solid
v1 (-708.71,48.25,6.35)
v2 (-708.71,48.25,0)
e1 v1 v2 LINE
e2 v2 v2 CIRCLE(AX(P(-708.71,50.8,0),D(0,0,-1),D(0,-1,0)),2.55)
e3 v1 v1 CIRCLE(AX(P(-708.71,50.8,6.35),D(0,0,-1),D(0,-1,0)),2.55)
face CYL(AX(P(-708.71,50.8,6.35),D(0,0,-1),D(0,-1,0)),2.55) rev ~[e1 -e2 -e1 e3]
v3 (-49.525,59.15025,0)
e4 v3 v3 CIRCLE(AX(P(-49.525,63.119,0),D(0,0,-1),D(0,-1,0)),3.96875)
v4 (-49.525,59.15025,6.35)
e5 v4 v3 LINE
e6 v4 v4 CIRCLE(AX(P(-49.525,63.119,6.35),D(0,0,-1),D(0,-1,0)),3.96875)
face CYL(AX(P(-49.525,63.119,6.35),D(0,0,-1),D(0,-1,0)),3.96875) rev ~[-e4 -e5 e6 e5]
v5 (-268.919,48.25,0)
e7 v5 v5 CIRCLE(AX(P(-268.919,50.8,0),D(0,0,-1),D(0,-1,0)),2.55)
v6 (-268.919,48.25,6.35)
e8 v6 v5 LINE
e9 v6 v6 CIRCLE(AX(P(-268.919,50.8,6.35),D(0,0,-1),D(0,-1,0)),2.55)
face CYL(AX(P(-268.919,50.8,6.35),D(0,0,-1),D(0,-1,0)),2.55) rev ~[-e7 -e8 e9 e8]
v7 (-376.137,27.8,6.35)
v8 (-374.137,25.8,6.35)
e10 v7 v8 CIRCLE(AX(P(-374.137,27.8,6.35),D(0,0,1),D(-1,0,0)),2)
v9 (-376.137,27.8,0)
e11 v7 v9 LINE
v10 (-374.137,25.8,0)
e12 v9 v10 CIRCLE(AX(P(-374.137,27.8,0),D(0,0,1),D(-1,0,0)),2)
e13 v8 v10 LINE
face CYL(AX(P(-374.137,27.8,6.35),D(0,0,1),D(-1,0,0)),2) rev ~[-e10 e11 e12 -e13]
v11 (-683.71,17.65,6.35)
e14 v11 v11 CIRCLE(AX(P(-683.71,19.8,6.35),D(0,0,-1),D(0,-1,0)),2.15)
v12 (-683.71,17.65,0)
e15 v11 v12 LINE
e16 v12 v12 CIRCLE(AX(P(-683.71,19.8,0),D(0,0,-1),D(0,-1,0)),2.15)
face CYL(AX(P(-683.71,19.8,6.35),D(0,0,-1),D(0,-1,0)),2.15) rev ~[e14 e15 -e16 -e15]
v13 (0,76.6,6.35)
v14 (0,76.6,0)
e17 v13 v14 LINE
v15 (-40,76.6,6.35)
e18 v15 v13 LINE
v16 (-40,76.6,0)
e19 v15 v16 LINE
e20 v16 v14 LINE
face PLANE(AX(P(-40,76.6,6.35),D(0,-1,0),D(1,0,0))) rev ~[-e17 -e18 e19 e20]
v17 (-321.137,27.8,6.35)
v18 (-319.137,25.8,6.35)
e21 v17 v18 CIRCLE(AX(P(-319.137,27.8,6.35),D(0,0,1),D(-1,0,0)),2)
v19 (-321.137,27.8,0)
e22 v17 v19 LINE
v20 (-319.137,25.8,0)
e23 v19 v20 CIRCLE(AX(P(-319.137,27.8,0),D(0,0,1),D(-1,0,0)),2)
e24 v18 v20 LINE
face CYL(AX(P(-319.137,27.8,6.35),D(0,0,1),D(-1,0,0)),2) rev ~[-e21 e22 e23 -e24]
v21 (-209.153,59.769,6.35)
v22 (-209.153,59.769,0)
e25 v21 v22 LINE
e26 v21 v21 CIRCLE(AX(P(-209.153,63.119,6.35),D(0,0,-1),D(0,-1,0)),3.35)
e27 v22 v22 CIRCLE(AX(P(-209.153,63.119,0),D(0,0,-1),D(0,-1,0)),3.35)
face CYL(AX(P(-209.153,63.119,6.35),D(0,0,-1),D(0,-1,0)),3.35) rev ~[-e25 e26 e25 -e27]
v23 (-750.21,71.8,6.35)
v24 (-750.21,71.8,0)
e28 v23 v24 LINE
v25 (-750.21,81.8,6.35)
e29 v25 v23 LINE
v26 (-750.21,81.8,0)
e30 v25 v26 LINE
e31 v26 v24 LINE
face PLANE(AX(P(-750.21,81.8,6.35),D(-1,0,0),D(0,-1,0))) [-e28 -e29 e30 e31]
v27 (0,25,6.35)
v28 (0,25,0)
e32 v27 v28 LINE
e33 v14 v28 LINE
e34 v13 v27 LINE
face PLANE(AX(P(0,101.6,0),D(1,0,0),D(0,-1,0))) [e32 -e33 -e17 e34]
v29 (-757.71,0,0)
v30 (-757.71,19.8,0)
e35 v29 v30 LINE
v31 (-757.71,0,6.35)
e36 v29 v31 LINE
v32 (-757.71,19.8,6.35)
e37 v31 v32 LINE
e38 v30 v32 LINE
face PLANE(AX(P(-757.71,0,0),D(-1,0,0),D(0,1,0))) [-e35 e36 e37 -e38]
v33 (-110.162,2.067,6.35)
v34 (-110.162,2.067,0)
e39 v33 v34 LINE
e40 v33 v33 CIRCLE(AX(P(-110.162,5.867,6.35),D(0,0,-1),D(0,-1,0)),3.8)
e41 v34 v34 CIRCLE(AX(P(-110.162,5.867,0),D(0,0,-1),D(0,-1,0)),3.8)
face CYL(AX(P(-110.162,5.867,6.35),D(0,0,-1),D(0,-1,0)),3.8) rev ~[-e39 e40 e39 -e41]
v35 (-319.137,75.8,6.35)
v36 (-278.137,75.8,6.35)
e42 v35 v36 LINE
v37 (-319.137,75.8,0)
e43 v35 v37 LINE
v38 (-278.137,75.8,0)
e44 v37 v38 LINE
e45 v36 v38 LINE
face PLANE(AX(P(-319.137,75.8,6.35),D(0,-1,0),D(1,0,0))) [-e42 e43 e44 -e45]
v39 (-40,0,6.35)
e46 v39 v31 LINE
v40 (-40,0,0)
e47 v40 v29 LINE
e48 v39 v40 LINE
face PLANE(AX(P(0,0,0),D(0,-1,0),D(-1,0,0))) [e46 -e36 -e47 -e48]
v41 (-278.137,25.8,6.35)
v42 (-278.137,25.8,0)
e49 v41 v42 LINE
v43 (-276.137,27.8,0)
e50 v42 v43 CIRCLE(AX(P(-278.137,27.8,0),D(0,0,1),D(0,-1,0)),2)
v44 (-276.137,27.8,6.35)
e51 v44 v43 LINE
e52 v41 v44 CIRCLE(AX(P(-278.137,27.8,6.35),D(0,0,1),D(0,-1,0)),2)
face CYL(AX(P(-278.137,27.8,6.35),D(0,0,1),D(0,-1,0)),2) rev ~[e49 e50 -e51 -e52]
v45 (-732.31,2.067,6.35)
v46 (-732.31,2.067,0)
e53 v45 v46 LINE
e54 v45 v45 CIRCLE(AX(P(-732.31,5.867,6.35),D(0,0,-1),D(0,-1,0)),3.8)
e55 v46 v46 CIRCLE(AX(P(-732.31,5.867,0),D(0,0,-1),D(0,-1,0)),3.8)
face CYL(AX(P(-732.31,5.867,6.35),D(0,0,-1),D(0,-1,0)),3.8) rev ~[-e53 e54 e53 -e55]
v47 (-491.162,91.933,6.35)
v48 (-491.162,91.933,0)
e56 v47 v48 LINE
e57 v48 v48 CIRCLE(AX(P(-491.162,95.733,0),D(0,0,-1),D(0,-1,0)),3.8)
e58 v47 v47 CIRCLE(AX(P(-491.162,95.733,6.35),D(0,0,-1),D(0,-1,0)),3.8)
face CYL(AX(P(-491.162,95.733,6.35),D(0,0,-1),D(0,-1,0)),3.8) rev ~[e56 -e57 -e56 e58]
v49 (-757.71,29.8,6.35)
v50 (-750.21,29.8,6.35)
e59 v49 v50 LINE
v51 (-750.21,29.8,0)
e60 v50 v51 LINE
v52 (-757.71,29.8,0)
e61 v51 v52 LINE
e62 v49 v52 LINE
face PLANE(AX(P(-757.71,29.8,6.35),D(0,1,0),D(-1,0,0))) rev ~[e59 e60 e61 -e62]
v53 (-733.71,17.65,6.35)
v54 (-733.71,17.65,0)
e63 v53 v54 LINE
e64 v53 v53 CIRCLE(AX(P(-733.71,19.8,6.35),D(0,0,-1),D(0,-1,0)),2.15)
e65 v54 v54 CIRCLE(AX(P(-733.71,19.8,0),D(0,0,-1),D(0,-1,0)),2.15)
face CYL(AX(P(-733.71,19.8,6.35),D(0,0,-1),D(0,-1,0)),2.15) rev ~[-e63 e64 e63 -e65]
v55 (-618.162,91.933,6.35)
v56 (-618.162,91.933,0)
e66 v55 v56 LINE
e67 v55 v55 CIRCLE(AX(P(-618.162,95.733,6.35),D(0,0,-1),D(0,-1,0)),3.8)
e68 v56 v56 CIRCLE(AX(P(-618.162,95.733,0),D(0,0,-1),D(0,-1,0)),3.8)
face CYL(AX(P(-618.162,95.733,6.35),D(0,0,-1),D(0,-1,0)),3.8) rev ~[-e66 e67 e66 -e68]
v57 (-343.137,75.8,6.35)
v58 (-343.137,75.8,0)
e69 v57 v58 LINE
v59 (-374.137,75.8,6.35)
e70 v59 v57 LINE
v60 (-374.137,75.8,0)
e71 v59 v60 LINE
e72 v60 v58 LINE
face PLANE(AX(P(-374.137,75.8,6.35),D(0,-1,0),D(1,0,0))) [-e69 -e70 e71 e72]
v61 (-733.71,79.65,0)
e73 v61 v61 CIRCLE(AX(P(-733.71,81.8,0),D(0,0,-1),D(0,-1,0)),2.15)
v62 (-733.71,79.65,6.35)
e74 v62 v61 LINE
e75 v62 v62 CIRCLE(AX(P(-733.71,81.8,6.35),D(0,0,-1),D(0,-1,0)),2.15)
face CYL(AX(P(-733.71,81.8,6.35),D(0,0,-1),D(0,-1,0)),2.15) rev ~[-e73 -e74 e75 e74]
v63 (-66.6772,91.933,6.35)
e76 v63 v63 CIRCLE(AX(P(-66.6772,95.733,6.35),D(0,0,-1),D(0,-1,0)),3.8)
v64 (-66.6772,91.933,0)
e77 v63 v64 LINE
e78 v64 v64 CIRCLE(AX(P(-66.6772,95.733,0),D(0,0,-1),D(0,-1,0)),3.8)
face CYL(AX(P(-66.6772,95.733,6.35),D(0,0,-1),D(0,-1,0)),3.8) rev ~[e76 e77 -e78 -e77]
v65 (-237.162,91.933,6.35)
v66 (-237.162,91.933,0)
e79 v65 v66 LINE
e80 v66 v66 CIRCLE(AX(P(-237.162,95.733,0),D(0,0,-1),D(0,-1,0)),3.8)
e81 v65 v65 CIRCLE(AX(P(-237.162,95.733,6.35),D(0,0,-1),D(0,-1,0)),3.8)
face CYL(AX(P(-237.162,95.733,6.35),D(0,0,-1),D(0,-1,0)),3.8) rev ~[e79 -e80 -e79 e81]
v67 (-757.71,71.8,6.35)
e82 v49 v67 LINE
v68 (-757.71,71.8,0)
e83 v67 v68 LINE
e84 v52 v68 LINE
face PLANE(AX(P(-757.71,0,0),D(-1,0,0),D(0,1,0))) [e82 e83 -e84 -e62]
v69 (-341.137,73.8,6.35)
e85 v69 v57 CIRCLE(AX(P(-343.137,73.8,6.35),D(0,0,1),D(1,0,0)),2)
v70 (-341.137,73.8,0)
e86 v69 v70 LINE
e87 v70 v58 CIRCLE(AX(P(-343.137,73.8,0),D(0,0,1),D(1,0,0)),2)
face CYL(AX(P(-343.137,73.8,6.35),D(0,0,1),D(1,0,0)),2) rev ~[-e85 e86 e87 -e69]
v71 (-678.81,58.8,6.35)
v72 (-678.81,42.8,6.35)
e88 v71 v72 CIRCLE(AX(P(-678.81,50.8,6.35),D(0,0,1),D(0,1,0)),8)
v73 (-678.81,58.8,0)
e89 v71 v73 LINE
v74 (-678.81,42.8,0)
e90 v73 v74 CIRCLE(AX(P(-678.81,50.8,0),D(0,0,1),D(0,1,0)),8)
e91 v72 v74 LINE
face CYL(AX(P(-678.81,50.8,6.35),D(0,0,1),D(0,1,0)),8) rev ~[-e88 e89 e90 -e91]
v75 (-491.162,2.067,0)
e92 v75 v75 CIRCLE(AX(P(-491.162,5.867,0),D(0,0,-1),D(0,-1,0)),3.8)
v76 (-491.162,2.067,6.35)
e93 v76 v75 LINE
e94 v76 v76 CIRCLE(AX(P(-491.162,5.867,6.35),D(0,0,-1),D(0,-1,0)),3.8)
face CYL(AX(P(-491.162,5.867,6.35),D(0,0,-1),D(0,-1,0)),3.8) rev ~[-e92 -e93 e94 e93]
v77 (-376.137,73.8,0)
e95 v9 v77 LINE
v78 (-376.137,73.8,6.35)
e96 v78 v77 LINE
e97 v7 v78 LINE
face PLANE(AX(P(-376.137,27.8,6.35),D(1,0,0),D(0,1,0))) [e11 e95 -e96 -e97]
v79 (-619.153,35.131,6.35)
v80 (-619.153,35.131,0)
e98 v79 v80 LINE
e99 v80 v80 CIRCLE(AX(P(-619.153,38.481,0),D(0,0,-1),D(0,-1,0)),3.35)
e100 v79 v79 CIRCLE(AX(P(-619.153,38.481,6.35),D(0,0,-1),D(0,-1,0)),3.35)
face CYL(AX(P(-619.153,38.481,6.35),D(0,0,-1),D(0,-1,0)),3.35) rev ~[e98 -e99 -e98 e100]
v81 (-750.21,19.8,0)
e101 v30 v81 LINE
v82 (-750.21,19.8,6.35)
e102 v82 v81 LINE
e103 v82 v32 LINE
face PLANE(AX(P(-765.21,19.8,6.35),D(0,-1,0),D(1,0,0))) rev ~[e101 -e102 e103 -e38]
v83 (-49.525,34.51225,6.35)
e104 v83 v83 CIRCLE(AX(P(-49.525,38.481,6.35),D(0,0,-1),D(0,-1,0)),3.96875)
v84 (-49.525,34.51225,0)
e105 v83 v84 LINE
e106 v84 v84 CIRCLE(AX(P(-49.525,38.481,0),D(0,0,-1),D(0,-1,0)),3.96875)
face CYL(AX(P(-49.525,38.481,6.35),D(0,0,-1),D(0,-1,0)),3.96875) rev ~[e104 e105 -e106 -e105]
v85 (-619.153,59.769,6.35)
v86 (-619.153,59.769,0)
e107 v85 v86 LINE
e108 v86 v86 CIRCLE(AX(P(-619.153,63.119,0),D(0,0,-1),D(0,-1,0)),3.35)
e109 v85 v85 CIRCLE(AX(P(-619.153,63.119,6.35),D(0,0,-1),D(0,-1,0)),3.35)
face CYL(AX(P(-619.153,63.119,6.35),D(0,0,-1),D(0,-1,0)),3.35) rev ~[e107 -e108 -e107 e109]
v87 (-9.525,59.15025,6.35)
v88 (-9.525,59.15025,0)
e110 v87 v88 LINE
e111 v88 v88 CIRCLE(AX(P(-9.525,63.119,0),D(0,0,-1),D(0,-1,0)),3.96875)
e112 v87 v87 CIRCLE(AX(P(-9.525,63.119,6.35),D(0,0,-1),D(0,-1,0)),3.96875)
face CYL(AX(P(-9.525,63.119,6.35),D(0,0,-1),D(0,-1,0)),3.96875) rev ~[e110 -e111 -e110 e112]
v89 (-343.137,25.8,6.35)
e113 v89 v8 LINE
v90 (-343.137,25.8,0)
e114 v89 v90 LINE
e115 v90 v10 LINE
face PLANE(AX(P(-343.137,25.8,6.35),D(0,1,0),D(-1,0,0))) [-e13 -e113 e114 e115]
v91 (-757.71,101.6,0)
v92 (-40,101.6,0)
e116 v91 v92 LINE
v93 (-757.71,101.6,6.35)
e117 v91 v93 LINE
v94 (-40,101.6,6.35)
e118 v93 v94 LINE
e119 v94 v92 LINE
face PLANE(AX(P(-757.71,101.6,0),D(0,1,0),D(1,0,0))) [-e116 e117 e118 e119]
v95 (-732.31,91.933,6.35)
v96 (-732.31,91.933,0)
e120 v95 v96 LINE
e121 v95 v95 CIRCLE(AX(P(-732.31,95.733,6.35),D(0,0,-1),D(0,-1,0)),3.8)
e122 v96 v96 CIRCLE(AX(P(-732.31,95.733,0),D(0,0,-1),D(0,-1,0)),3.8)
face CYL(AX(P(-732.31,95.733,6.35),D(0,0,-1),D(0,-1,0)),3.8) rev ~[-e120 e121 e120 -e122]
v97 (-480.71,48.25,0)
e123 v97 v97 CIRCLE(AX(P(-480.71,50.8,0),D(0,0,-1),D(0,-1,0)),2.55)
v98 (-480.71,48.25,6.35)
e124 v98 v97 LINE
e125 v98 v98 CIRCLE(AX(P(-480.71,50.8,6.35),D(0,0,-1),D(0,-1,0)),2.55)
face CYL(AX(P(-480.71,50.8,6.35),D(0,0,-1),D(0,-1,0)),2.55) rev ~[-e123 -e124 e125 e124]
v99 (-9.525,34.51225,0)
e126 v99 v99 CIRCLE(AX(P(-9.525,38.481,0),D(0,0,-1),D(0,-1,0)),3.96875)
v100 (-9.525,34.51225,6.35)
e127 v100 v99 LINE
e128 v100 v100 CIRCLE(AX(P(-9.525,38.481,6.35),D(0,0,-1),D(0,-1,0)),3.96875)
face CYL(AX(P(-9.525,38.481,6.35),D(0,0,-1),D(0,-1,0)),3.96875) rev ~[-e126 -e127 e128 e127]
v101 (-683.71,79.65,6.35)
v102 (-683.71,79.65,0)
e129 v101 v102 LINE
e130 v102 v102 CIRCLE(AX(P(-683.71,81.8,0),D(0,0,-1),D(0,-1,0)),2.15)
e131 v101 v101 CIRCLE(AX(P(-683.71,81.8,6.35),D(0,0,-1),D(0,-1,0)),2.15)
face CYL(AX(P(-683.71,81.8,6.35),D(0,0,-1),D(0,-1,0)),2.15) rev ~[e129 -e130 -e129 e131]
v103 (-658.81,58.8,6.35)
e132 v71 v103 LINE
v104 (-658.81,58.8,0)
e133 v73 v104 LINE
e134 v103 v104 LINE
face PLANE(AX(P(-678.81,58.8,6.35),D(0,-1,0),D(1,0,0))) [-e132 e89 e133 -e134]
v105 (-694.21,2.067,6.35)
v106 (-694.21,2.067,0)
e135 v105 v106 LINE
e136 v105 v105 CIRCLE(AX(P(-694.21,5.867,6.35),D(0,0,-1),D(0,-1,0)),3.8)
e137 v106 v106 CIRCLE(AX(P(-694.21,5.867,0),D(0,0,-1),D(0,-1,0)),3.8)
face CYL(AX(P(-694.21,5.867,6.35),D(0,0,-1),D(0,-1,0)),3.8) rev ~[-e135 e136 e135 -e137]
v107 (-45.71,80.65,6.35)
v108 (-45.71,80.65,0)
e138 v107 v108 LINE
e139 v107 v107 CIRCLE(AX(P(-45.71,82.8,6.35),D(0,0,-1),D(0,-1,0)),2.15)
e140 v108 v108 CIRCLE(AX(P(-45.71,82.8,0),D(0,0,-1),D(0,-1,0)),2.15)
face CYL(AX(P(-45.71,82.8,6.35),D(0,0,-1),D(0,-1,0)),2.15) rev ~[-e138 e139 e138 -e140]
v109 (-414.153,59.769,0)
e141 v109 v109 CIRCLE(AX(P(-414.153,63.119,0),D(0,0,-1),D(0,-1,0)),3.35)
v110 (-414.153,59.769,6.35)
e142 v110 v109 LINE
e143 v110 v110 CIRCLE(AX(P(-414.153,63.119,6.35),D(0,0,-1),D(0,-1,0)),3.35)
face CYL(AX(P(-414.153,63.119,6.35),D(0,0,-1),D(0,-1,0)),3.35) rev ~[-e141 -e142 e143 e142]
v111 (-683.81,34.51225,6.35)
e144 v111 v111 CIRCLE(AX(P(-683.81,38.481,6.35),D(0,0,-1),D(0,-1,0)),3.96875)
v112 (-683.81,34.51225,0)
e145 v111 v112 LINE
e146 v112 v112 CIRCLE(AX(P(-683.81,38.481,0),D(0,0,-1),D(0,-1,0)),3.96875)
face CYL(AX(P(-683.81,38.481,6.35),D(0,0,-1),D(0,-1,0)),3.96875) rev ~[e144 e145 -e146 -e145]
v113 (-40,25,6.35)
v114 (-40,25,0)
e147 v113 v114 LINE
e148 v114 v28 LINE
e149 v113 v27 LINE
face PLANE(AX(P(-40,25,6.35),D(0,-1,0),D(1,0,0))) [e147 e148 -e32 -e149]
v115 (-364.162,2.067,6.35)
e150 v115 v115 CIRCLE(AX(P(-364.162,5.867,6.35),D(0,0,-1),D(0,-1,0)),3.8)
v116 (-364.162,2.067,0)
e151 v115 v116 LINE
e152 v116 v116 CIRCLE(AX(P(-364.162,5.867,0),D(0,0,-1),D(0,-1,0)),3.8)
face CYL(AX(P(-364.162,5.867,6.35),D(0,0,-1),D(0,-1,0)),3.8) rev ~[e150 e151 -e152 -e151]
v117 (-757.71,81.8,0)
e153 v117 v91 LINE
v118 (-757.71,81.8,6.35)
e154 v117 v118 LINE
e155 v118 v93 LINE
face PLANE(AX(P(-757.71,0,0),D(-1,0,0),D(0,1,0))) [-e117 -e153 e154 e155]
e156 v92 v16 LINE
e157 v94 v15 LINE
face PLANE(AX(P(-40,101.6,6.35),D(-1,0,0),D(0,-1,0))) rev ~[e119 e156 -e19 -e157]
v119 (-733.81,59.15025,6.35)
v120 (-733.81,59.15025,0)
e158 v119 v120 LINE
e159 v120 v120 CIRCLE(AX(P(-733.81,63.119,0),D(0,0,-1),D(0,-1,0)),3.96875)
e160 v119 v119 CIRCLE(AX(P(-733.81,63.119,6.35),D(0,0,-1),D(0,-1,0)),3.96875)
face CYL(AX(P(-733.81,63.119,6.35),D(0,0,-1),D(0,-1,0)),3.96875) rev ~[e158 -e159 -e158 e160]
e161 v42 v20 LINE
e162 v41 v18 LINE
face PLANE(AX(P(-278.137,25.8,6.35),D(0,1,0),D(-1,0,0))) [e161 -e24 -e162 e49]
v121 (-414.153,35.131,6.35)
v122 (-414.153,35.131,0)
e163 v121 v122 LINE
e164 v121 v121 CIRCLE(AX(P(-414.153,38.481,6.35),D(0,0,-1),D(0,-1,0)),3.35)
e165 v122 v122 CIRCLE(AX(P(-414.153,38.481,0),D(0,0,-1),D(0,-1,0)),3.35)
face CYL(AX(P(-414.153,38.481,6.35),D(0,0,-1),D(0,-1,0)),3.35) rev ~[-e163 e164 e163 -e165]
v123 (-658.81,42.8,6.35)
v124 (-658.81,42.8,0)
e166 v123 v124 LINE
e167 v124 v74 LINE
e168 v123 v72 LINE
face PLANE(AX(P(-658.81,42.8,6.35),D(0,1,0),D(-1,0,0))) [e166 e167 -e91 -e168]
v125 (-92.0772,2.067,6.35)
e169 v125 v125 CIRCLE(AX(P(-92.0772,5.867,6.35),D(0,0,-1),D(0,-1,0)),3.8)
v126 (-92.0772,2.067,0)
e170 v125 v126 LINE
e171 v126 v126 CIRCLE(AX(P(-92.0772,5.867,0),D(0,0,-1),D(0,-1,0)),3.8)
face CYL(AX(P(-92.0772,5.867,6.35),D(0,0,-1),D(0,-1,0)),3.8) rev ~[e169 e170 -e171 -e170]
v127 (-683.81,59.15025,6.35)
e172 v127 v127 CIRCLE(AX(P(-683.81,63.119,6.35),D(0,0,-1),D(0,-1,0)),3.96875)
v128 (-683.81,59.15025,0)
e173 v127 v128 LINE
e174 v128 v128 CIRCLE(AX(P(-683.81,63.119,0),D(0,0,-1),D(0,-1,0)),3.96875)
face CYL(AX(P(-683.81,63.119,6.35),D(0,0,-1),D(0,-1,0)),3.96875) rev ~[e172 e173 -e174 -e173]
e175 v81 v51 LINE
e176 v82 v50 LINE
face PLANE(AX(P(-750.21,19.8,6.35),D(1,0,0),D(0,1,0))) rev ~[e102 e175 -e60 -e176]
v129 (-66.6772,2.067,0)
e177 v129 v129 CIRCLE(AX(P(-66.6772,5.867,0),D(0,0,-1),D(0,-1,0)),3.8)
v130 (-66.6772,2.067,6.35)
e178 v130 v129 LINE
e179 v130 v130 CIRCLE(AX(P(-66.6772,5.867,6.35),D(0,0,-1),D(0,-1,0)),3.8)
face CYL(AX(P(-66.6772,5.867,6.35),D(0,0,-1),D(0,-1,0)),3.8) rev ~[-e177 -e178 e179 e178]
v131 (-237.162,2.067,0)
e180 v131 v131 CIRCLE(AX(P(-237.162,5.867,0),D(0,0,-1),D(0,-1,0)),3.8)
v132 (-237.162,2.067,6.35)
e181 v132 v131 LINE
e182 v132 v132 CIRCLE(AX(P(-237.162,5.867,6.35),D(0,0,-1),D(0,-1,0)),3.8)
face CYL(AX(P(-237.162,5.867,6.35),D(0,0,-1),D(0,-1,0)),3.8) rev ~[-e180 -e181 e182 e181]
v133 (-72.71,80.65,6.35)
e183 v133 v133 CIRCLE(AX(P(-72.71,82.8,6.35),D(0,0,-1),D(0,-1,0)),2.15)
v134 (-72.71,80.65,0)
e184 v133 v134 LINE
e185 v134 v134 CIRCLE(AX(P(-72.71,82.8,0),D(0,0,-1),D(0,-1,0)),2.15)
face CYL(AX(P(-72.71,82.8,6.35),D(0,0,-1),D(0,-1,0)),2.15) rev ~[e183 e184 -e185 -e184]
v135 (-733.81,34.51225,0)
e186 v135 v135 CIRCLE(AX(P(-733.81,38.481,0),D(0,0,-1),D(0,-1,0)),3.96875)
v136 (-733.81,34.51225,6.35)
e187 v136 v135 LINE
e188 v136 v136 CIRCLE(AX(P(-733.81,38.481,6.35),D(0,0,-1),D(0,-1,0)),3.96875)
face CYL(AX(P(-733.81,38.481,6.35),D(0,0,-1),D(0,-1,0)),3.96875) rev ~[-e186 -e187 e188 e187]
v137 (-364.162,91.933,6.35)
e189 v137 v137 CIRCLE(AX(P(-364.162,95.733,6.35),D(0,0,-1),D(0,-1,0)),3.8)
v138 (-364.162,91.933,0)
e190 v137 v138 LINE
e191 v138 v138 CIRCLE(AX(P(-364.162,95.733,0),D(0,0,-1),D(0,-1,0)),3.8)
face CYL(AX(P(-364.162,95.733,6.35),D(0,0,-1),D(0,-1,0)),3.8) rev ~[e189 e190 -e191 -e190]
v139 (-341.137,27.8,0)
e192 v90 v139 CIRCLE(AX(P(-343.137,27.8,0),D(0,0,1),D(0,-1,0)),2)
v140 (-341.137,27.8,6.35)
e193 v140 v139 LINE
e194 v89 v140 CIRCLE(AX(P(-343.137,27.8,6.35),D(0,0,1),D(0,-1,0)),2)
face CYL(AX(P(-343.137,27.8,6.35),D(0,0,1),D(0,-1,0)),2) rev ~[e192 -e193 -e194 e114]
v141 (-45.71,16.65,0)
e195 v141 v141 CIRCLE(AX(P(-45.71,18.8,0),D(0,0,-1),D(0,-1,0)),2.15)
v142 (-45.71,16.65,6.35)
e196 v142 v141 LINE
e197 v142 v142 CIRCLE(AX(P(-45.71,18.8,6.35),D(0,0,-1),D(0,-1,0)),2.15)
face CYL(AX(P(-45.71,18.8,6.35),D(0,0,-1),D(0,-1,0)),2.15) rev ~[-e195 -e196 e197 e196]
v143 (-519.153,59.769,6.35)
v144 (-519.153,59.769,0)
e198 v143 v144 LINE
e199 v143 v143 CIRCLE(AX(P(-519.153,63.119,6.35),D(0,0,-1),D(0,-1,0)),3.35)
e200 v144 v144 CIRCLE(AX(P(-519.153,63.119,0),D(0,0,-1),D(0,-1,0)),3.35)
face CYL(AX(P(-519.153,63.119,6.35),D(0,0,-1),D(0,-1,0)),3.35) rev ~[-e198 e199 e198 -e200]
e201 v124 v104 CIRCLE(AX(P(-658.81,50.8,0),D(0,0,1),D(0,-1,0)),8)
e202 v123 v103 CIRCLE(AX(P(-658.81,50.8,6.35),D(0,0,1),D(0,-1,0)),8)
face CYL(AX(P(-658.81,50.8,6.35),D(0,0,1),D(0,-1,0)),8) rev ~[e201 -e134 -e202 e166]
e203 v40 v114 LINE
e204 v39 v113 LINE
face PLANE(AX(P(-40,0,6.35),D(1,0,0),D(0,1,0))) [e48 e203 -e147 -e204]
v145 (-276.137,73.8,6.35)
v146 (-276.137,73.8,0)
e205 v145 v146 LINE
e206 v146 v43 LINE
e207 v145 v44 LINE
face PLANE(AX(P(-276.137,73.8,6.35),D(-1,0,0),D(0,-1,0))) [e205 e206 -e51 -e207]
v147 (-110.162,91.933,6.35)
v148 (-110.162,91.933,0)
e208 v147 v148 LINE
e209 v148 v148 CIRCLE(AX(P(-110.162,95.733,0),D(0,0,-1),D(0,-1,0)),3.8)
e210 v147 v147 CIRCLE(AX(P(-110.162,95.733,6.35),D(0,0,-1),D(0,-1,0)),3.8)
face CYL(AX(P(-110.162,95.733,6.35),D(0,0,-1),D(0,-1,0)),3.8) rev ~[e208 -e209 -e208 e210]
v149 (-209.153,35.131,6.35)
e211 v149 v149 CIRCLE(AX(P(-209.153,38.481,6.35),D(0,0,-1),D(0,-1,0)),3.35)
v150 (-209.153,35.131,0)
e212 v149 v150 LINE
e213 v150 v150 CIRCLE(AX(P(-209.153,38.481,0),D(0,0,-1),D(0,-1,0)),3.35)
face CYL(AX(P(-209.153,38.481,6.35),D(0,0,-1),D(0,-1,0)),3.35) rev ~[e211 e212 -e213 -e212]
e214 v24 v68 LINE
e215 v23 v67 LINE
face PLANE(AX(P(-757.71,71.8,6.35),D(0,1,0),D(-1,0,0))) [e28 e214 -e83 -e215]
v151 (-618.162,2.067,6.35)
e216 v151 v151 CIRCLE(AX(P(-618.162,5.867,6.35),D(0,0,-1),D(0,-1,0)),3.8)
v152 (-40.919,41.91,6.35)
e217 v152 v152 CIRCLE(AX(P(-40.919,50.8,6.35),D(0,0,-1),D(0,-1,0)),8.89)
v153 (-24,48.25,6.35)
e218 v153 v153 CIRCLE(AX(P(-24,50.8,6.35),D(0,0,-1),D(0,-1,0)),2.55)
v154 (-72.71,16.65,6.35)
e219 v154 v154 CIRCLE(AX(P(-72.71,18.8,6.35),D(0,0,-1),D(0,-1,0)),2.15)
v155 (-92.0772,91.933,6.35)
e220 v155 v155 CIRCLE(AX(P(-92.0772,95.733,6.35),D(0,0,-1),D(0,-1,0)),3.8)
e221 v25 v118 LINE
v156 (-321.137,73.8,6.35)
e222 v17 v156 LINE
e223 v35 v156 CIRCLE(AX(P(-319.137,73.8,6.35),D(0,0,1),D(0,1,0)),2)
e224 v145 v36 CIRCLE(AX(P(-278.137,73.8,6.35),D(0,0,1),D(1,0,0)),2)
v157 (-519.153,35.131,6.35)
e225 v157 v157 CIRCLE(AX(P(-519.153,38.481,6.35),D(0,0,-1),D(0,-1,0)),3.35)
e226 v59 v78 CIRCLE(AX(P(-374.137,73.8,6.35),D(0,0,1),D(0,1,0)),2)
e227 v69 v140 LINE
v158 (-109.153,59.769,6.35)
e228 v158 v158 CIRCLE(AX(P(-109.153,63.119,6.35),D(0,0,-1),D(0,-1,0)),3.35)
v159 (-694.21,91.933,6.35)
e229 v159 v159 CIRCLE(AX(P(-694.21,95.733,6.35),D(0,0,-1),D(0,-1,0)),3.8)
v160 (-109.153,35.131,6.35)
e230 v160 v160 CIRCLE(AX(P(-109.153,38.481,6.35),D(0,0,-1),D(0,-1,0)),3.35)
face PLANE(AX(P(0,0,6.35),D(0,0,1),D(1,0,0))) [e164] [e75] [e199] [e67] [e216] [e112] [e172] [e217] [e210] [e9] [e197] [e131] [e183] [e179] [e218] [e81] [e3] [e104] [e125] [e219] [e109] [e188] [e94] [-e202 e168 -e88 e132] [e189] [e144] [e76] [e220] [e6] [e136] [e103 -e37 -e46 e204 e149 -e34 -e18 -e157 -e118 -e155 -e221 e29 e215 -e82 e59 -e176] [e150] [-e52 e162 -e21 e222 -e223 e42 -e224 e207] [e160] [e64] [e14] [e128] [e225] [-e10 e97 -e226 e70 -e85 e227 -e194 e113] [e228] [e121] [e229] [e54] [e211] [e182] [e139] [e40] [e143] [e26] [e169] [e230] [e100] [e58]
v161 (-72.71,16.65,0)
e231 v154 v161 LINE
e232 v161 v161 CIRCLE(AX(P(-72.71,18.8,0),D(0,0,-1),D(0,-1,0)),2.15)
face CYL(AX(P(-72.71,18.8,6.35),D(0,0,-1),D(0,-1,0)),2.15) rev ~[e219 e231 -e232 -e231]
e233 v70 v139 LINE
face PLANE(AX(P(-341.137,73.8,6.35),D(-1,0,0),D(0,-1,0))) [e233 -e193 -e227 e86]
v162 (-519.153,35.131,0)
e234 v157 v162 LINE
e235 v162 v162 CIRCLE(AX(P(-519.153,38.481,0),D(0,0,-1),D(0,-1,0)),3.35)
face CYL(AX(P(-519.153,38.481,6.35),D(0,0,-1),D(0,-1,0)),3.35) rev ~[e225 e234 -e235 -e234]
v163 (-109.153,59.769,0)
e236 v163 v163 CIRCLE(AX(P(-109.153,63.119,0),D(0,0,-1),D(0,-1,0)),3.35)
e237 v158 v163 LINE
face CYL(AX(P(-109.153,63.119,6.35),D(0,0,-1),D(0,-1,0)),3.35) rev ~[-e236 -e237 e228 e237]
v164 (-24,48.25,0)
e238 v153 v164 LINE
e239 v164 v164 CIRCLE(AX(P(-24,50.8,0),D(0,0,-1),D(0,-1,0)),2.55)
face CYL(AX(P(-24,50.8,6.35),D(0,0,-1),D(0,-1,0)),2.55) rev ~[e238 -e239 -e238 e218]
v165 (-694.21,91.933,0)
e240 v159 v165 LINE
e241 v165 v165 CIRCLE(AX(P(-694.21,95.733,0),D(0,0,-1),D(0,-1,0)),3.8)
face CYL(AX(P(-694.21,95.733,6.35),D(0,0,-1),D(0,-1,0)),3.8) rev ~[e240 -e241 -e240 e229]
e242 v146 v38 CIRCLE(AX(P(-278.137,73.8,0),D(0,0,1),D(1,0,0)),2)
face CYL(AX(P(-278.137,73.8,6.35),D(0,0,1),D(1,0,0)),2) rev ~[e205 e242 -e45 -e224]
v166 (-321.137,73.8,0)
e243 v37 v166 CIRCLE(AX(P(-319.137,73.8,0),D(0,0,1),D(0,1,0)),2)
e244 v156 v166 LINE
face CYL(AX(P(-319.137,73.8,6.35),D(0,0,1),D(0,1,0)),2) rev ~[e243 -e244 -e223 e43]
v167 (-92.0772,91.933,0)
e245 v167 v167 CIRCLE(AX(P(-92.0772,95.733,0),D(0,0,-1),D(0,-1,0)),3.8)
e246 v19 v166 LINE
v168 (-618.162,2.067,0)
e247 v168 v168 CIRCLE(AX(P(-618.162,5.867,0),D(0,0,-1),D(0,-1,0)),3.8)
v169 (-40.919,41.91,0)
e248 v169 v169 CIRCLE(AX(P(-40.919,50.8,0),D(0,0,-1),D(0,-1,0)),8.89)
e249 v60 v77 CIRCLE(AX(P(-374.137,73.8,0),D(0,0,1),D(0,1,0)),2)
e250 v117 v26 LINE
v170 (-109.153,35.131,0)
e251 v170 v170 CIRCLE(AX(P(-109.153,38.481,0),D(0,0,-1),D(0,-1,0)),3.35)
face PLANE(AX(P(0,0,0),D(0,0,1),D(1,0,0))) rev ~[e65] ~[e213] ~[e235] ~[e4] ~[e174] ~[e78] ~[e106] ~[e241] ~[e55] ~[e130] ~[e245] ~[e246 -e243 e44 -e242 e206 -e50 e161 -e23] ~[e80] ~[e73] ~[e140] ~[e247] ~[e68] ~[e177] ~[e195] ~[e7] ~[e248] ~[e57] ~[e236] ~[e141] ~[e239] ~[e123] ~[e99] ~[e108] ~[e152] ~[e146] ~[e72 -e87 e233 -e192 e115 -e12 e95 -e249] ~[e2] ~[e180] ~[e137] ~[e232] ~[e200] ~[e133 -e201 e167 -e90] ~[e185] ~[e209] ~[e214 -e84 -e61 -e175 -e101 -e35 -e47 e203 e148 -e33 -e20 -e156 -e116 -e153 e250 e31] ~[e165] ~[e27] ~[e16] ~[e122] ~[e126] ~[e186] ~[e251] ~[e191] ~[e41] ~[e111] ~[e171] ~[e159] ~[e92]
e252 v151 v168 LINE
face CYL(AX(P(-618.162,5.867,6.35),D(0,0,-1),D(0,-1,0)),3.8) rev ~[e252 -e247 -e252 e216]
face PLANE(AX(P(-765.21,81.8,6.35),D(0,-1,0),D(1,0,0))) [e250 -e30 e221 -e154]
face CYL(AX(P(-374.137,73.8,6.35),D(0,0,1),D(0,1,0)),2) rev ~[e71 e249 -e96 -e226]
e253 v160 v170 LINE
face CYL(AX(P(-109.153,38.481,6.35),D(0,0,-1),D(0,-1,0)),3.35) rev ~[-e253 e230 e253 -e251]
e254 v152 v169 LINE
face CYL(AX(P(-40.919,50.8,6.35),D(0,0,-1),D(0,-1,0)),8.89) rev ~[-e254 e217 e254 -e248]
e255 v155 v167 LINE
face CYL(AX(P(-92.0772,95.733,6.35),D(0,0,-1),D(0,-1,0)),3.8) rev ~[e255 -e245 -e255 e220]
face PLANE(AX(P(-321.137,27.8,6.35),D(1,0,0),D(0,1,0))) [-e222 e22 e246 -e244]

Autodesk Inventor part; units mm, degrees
ref_plane "YZ Plane" through (0, 0, 0) normal (1, 0, 0) x (0, 1, 0)
ref_plane "XZ Plane" through (0, 0, 0) normal (0, 1, 0) x (-1, 0, 0)
ref_plane "XY Plane" through (0, 0, 0) normal (0, 0, 1) x (1, 0, 0)
sketch "Sketch1" plane through (0, 0, 0) normal (0, 0, 1) x (1, 0, 0)
  line L0 (0, 0) -> (-757.71, 0)
  line L1 (-757.71, 0) -> (-757.71, 101.6)
  line L2 (-757.71, 101.6) -> (0, 101.6)
  line L3 (0, 101.6) -> (0, 0)
  dimension "d0" = 757.71
  dimension "d1" = 101.6
extrude "Extrusion1" add sketch "Sketch1" along normal blind 6.35
sketch "Sketch2" plane through (0, 0, 6.35) normal (0, 0, 1) x (1, 0, 0)
  line L0 (-757.71, 0) -> (-757.71, 101.6) projected
  line L1 (-757.71, 101.6) -> (0, 101.6) projected
  line L2 (0, 0) -> (-757.71, 0) projected
  line L3 (0, 101.6) -> (0, 0) projected
  line L4 (-784.6272, 50.8) -> (38.5307, 50.8) construction
  line L5 (-757.71, 0) -> (-757.71, 101.6) projected
  line L6 (0, 0) -> (-757.71, 0) projected
  line L7 (0, 101.6) -> (0, 0) projected
  line L8 (-757.71, 101.6) -> (0, 101.6) projected
  circle A0 centre (-733.3565, 83.308) radius 2.15
  circle A1 centre (-683.3634, 82.4755) radius 2.15
  circle A2 centre (-684.4397, 17.8465) radius 2.15
  circle A3 centre (-734.4327, 18.679) radius 2.15
  point P0 (-732.31, 95.733)
  point P1 (-694.21, 95.733)
  point P2 (-694.21, 5.867)
  point P3 (-732.31, 5.867)
  point P4 (-618.162, 95.733)
  point P5 (-618.162, 5.867)
  point P6 (-618.162, 95.733)
  point P7 (-491.162, 95.733)
  point P8 (-491.162, 5.867)
  point P9 (-364.162, 95.733)
  point P10 (-364.162, 5.867)
  point P11 (-237.162, 95.733)
  point P12 (-237.162, 5.867)
  point P13 (-110.162, 95.733)
  point P14 (-110.162, 5.867)
  point P15 (-28.5772, 95.733)
  point P16 (-66.6772, 95.733)
  point P17 (-92.0772, 95.733)
  point P18 (-28.5772, 5.867)
  point P19 (-66.6772, 5.867)
  point P20 (-92.0772, 5.867)
  point P21 (-733.81, 63.119)
  point P22 (-733.81, 38.481)
  point P23 (-683.81, 63.119)
  point P24 (-683.81, 38.481)
  point P25 (-619.153, 63.119)
  point P26 (-619.153, 38.481)
  point P27 (-519.153, 63.119)
  point P28 (-519.153, 38.481)
  point P29 (-414.153, 63.119)
  point P30 (-414.153, 38.481)
  point P31 (-314.153, 63.119)
  point P32 (-314.153, 38.481)
  point P33 (-209.153, 63.119)
  point P34 (-209.153, 38.481)
  point P35 (-109.153, 63.119)
  point P36 (-109.153, 38.481)
  point P37 (-49.525, 63.119)
  point P38 (-49.525, 38.481)
  point P39 (-9.525, 38.481)
  point P40 (-9.525, 63.119)
  dimension "d4" = 50.8
  dimension "d5" = 38.1
  dimension "d6" = 25.4
  dimension "d7" = 5.867
  dimension "d8" = 5.867
  dimension "d9" = 76.048
  dimension "d10" = 127
  dimension "d11" = 127
  dimension "d12" = 127
  dimension "d13" = 127
  dimension "d15" = 38.1
  dimension "d16" = 25.4
  dimension "d24" = 50
  dimension "d25" = 23.9
  dimension "d26" = 24.638
  dimension "d27" = 38.481
  dimension "d28" = 100
  dimension "d30" = 100
  dimension "d31" = 105
  dimension "d32" = 105
  dimension "d33" = 100
  dimension "d34" = 18.0848
  dimension "d35" = 138.557
  dimension "d36" = 9.525
  dimension "d37" = 40
hole "Hole1" at (-732.31, 95.733, 6.35) at (-694.21, 95.733, 6.35) at (-694.21, 5.867, 6.35) at (-732.31, 5.867, 6.35) at (-618.162, 95.733, 6.35) at (-618.162, 5.867, 6.35) at (-491.162, 95.733, 6.35) at (-491.162, 5.867, 6.35) at (-364.162, 95.733, 6.35) at (-364.162, 5.867, 6.35) at (-237.162, 95.733, 6.35) at (-237.162, 5.867, 6.35) at (-110.162, 95.733, 6.35) at (-110.162, 5.867, 6.35) at (-28.5772, 95.733, 6.35) at (-66.6772, 95.733, 6.35) at (-92.0772, 95.733, 6.35) at (-28.5772, 5.867, 6.35) at (-66.6772, 5.867, 6.35) at (-92.0772, 5.867, 6.35) direction (0, 0, -1) diameter 7.6 end through all
hole "Hole3" at (-619.153, 38.481, 6.35) at (-619.153, 63.119, 6.35) at (-519.153, 63.119, 6.35) at (-519.153, 38.481, 6.35) at (-414.153, 63.119, 6.35) at (-414.153, 38.481, 6.35) at (-314.153, 63.119, 6.35) at (-314.153, 38.481, 6.35) at (-109.153, 63.119, 6.35) at (-109.153, 38.481, 6.35) at (-209.153, 38.481, 6.35) at (-209.153, 63.119, 6.35) direction (0, 0, -1) diameter 6.7 end through all
hole "Hole4" at (-733.81, 63.119, 6.35) at (-733.81, 38.481, 6.35) at (-683.81, 63.119, 6.35) at (-683.81, 38.481, 6.35) at (-49.525, 63.119, 6.35) at (-49.525, 38.481, 6.35) at (-9.525, 38.481, 6.35) at (-9.525, 63.119, 6.35) direction (0, 0, -1) diameter 7.9375 end through all
sketch "Sketch3" plane through (0, 0, 6.35) normal (0, 0, 1) x (1, 0, 0)
  line L0 (-757.71, 0) -> (-757.71, 101.6) projected
  line L1 (-757.71, 101.6) -> (0, 101.6) projected
  line L2 (0, 0) -> (-757.71, 0) projected
  line L3 (0, 101.6) -> (0, 0) projected
  line L4 (-768.3938, 50.8) -> (17.8568, 50.8) construction
  circle A0 centre (-364.162, 95.733) radius 3.8 construction
  circle A1 centre (-364.162, 5.867) radius 3.8 construction
  line L5 (-678.81, 101.6) -> (-678.81, 0) construction
  line L6 (-658.81, 101.6) -> (-658.81, 0) construction
  line L7 (-678.81, 58.8) -> (-658.81, 58.8)
  line L8 (-658.81, 42.8) -> (-678.81, 42.8)
  arc A2 (-678.81, 58.8) -> (-678.81, 42.8) centre (-678.81, 50.8) ccw
  arc A3 (-658.81, 42.8) -> (-658.81, 58.8) centre (-658.81, 50.8) ccw
  line L9 (-358.637, 61.5353) -> (-358.637, 20.4895) construction
  line L10 (-374.137, 75.8) -> (-343.137, 75.8)
  line L11 (-341.137, 73.8) -> (-341.137, 27.8)
  line L12 (-343.137, 25.8) -> (-374.137, 25.8)
  line L13 (-376.137, 27.8) -> (-376.137, 73.8)
  arc A4 (-374.137, 75.8) -> (-376.137, 73.8) centre (-374.137, 73.8) ccw
  arc A5 (-341.137, 73.8) -> (-343.137, 75.8) centre (-343.137, 73.8) ccw
  arc A6 (-343.137, 25.8) -> (-341.137, 27.8) centre (-343.137, 27.8) ccw
  arc A7 (-376.137, 27.8) -> (-374.137, 25.8) centre (-374.137, 27.8) ccw
  line L14 (-278.137, 25.8) -> (-319.137, 25.8)
  line L15 (-321.137, 27.8) -> (-321.137, 73.8)
  line L16 (-319.137, 75.8) -> (-278.137, 75.8)
  line L17 (-276.137, 73.8) -> (-276.137, 27.8)
  line L18 (-276.137, 25.8) -> (-321.137, 75.8) construction
  line L19 (-321.137, 25.8) -> (-276.137, 75.8) construction
  arc A8 (-319.137, 75.8) -> (-321.137, 73.8) centre (-319.137, 73.8) ccw
  arc A9 (-276.137, 73.8) -> (-278.137, 75.8) centre (-278.137, 73.8) ccw
  arc A10 (-278.137, 25.8) -> (-276.137, 27.8) centre (-278.137, 27.8) ccw
  arc A11 (-321.137, 27.8) -> (-319.137, 25.8) centre (-319.137, 27.8) ccw
  point P0 (-376.137, 75.8)
  point P1 (-341.137, 75.8)
  point P2 (-376.137, 25.8)
  point P3 (-298.637, 50.8)
  dimension "d59" = 50.8
  dimension "d65" = 78.9
  dimension "d66" = 20
  dimension "d67" = 8
  dimension "d68" = 16
  dimension "d110" = 35
  dimension "d111" = 50
  dimension "d112" = 17.5
  dimension "d113" = 25
  dimension "d115" = 2
  dimension "d118" = 399.073
  dimension "d177" = 45
  dimension "d178" = 50
  dimension "d179" = 20
  dimension "d180" = 2
sketch "Sketch5" plane through (0, 0, 6.35) normal (0, 0, 1) x (1, 0, 0)
  line L0 (-58.4858, 50.8) -> (0.3179, 50.8) construction
  line L1 (-757.71, 101.6) -> (0, 101.6) construction
  line L2 (0, 101.6) -> (0, 0) construction
  point P0 (-40.919, 50.8)
  dimension "d84" = 50.8
  dimension "d86" = 40.919
hole "Hole6" at (-40.919, 50.8, 6.35) direction (0, 0, -1) diameter 17.78 end through all
sketch "Sketch6" plane through (0, 0, 6.35) normal (0, 0, 1) x (1, 0, 0)
  circle A0 centre (-40.919, 50.8) radius 8.89 construction
  line L0 (0, 101.6) -> (0, 0) construction
  line L1 (-40.919, 50.8) -> (0, 50.8) construction
  point P0 (-23.825, 50.8)
  dimension "d95" = 23.825
hole "Hole7" at (-23.825, 50.8, 6.35) direction (0, 0, -1) diameter 3 end through all
sketch "Sketch7" plane through (0, 0, 6.35) normal (0, 0, 1) x (1, 0, 0)
  circle A0 centre (-23.825, 50.8) radius 1.5 projected
  circle A1 centre (-40.919, 50.8) radius 8.89 projected
  circle A2 centre (-9.525, 38.481) radius 3.9688 projected
  circle A3 centre (-49.525, 63.119) radius 3.9688 projected
  circle A4 centre (-683.81, 63.119) radius 3.9688 projected
  circle A5 centre (-733.81, 63.119) radius 3.9688 projected
  circle A6 centre (-733.81, 38.481) radius 3.9688 projected
  circle A7 centre (-683.81, 38.481) radius 3.9688 projected
  circle A8 centre (-49.525, 38.481) radius 3.9688 projected
  circle A9 centre (-9.525, 63.119) radius 3.9688 projected
  circle A10 centre (-209.153, 38.481) radius 3.35 projected
  circle A11 centre (-109.153, 63.119) radius 3.35 projected
  circle A12 centre (-314.153, 63.119) radius 3.35 projected
  circle A13 centre (-414.153, 63.119) radius 3.35 projected
  circle A14 centre (-519.153, 63.119) radius 3.35 projected
  circle A15 centre (-619.153, 38.481) radius 3.35 projected
  circle A16 centre (-619.153, 63.119) radius 3.35 projected
  circle A17 centre (-519.153, 38.481) radius 3.35 projected
  circle A18 centre (-414.153, 38.481) radius 3.35 projected
  circle A19 centre (-314.153, 38.481) radius 3.35 projected
  circle A20 centre (-109.153, 38.481) radius 3.35 projected
  circle A21 centre (-209.153, 63.119) radius 3.35 projected
  circle A22 centre (-66.6772, 5.867) radius 3.8 projected
  circle A23 centre (-92.0772, 95.733) radius 3.8 projected
  circle A24 centre (-28.5772, 95.733) radius 3.8 projected
  circle A25 centre (-110.162, 95.733) radius 3.8 projected
  circle A26 centre (-237.162, 95.733) radius 3.8 projected
  circle A27 centre (-364.162, 95.733) radius 3.8 projected
  circle A28 centre (-491.162, 95.733) radius 3.8 projected
  circle A29 centre (-618.162, 95.733) radius 3.8 projected
  circle A30 centre (-694.21, 5.867) radius 3.8 projected
  circle A31 centre (-732.31, 95.733) radius 3.8 projected
  circle A32 centre (-694.21, 95.733) radius 3.8 projected
  circle A33 centre (-732.31, 5.867) radius 3.8 projected
  circle A34 centre (-618.162, 5.867) radius 3.8 projected
  circle A35 centre (-491.162, 5.867) radius 3.8 projected
  circle A36 centre (-364.162, 5.867) radius 3.8 projected
  circle A37 centre (-237.162, 5.867) radius 3.8 projected
  circle A38 centre (-110.162, 5.867) radius 3.8 projected
  circle A39 centre (-66.6772, 95.733) radius 3.8 projected
  circle A40 centre (-28.5772, 5.867) radius 3.8 projected
  circle A41 centre (-92.0772, 5.867) radius 3.8 projected
  line L0 (-757.71, 0) -> (-757.71, 101.6) projected
  line L1 (0, 0) -> (-757.71, 0) projected
  line L2 (0, 101.6) -> (0, 0) projected
  line L3 (-757.71, 101.6) -> (0, 101.6) projected
  point P0 (-708.71, 50.8)
  point P1 (-480.71, 50.8)
  point P2 (-268.919, 50.8)
  point P3 (-24, 50.8)
  dimension "d119" = 49
  dimension "d120" = 228
  dimension "d121" = 228
  dimension "d122" = 24
hole "Hole8" at (-708.71, 50.8, 6.35) at (-480.71, 50.8, 6.35) at (-268.919, 50.8, 6.35) at (-24, 50.8, 6.35) direction (0, 0, -1) diameter 5.1 end through all
sketch "Sketch8" plane through (0, 0, 6.35) normal (0, 0, 1) x (1, 0, 0)
  circle A0 centre (-268.919, 50.8) radius 2.55 projected
  circle A1 centre (-708.71, 50.8) radius 2.55 projected
  circle A2 centre (-480.71, 50.8) radius 2.55 projected
  circle A3 centre (-24, 50.8) radius 2.55 projected
  circle A4 centre (-40.919, 50.8) radius 8.89 projected
  circle A5 centre (-9.525, 38.481) radius 3.9688 projected
  circle A6 centre (-49.525, 63.119) radius 3.9688 projected
  circle A7 centre (-683.81, 63.119) radius 3.9688 projected
  circle A8 centre (-733.81, 63.119) radius 3.9688 projected
  circle A9 centre (-733.81, 38.481) radius 3.9688 projected
  circle A10 centre (-683.81, 38.481) radius 3.9688 projected
  circle A11 centre (-49.525, 38.481) radius 3.9688 projected
  circle A12 centre (-9.525, 63.119) radius 3.9688 projected
  circle A13 centre (-209.153, 38.481) radius 3.35 projected
  circle A14 centre (-109.153, 63.119) radius 3.35 projected
  circle A15 centre (-314.153, 63.119) radius 3.35 projected
  circle A16 centre (-414.153, 63.119) radius 3.35 projected
  circle A17 centre (-519.153, 63.119) radius 3.35 projected
  circle A18 centre (-619.153, 38.481) radius 3.35 projected
  circle A19 centre (-619.153, 63.119) radius 3.35 projected
  circle A20 centre (-519.153, 38.481) radius 3.35 projected
  circle A21 centre (-414.153, 38.481) radius 3.35 projected
  circle A22 centre (-314.153, 38.481) radius 3.35 projected
  circle A23 centre (-109.153, 38.481) radius 3.35 projected
  circle A24 centre (-209.153, 63.119) radius 3.35 projected
  circle A25 centre (-66.6772, 5.867) radius 3.8 projected
  circle A26 centre (-92.0772, 95.733) radius 3.8 projected
  circle A27 centre (-28.5772, 95.733) radius 3.8 projected
  circle A28 centre (-110.162, 95.733) radius 3.8 projected
  circle A29 centre (-237.162, 95.733) radius 3.8 projected
  circle A30 centre (-364.162, 95.733) radius 3.8 projected
  circle A31 centre (-491.162, 95.733) radius 3.8 projected
  circle A32 centre (-618.162, 95.733) radius 3.8 projected
  circle A33 centre (-694.21, 5.867) radius 3.8 projected
  circle A34 centre (-732.31, 95.733) radius 3.8 projected
  circle A35 centre (-694.21, 95.733) radius 3.8 projected
  circle A36 centre (-732.31, 5.867) radius 3.8 projected
  circle A37 centre (-618.162, 5.867) radius 3.8 projected
  circle A38 centre (-491.162, 5.867) radius 3.8 projected
  circle A39 centre (-364.162, 5.867) radius 3.8 projected
  circle A40 centre (-237.162, 5.867) radius 3.8 projected
  circle A41 centre (-110.162, 5.867) radius 3.8 projected
  circle A42 centre (-66.6772, 95.733) radius 3.8 projected
  circle A43 centre (-28.5772, 5.867) radius 3.8 projected
  circle A44 centre (-92.0772, 5.867) radius 3.8 projected
  line L0 (-757.71, 0) -> (-757.71, 101.6) projected
  line L1 (0, 0) -> (-757.71, 0) projected
  line L2 (0, 101.6) -> (0, 0) projected
  line L3 (-757.71, 101.6) -> (0, 101.6) projected
  line L4 (0, 101.6) -> (-40, 101.6)
  line L5 (-40, 101.6) -> (-40, 76.6)
  line L6 (-40, 76.6) -> (0, 76.6)
  line L7 (0, 76.6) -> (0, 101.6)
  line L8 (0, 0) -> (-40, 0)
  line L9 (-40, 0) -> (-40, 25)
  line L10 (-40, 25) -> (0, 25)
  line L11 (0, 25) -> (0, 0)
  dimension "d130" = 40
  dimension "d131" = 25
  dimension "d132" = 25
extrude "Extrusion4" cut sketch "Sketch8" against normal through all contours L9 L10 L2 L1 | L3 L2 L6 L5
sketch "Sketch11" plane through (0, 0, 6.35) normal (0, 0, 1) x (1, 0, 0)
  line L0 (-40, 0) -> (-40, 25) projected
  line L1 (-40, 76.6) -> (-40, 101.6) projected
  line L2 (-757.71, 101.6) -> (-40, 101.6) projected
  line L3 (-757.71, 0) -> (-757.71, 101.6) projected
  line L4 (-40, 0) -> (-757.71, 0) projected
  point P0 (0, 0)
  point P1 (-733.71, 81.8)
  point P2 (-683.71, 81.8)
  point P3 (-683.71, 19.8)
  point P4 (-733.71, 19.8)
  point P5 (-45.71, 82.8)
  point P6 (-72.71, 82.8)
  point P7 (-72.71, 18.8)
  point P8 (-45.71, 18.8)
  dimension "d149" = 19.8
  dimension "d150" = 19.8
  dimension "d151" = 19.8
  dimension "d152" = 19.8
  dimension "d153" = 24
  dimension "d154" = 24
  dimension "d155" = 50
  dimension "d156" = 50
  dimension "d157" = 18.8
  dimension "d158" = 18.8
  dimension "d159" = 18.8
  dimension "d160" = 18.8
  dimension "d161" = 5.71
  dimension "d162" = 5.71
  dimension "d172" = 27
  dimension "d173" = 27
hole "Hole11" at (-733.71, 81.8, 6.35) at (-683.71, 81.8, 6.35) at (-683.71, 19.8, 6.35) at (-733.71, 19.8, 6.35) at (-45.71, 82.8, 6.35) at (-72.71, 82.8, 6.35) at (-72.71, 18.8, 6.35) at (-45.71, 18.8, 6.35) direction (0, 0, -1) diameter 4.3 end through all
extrude "Extrusion5" cut sketch "Sketch3" against normal blind 10 contours L7 A3 L8 A2 | L10 A5 L11 A6 L12 A7 L13 A4 | L14 A11 L15 A8 L16 A9 L17 A10
sketch "Sketch14" plane through (0, 0, 6.35) normal (0, 0, 1) x (1, 0, 0)
  line L0 (-765.21, 19.8) -> (-750.21, 19.8)
  line L1 (-750.21, 19.8) -> (-750.21, 29.8)
  line L2 (-750.21, 29.8) -> (-765.21, 29.8)
  line L3 (-765.21, 29.8) -> (-765.21, 19.8)
  line L4 (-757.71, 0) -> (-757.71, 101.6) projected
  line L5 (-765.21, 19.8) -> (-750.21, 29.8) construction
  line L6 (-750.21, 19.8) -> (-765.21, 29.8) construction
  line L7 (-765.21, 81.8) -> (-750.21, 81.8)
  line L8 (-750.21, 81.8) -> (-750.21, 71.8)
  line L9 (-750.21, 71.8) -> (-765.21, 71.8)
  line L10 (-765.21, 71.8) -> (-765.21, 81.8)
  line L11 (-765.21, 81.8) -> (-750.21, 71.8) construction
  line L12 (-750.21, 81.8) -> (-765.21, 71.8) construction
  point P0 (0, 0)
  point P1 (-757.71, 24.8)
  point P2 (-757.71, 76.8)
  dimension "d198" = 15
  dimension "d199" = 10
  dimension "d200" = 15
  dimension "d201" = 10
  dimension "d202" = 52
  dimension "d203" = 24.8
extrude "Extrusion6" cut sketch "Sketch14" against normal blind 10
equation "\"d8\" = d7"
equation "\"d11\" = d10"
equation "\"d12\" = d10"
equation "\"d13\" = d10"
equation "\"d132\" = d131"
equation "\"d150\" = d149"
equation "\"d151\" = d149"
equation "\"d152\" = d149"
equation "\"d154\" = d153"
equation "\"d156\" = d155"
equation "\"d158\" = d157"
equation "\"d159\" = d157"
equation "\"d160\" = d157"
properties part number "1 Piece Support Plate"
